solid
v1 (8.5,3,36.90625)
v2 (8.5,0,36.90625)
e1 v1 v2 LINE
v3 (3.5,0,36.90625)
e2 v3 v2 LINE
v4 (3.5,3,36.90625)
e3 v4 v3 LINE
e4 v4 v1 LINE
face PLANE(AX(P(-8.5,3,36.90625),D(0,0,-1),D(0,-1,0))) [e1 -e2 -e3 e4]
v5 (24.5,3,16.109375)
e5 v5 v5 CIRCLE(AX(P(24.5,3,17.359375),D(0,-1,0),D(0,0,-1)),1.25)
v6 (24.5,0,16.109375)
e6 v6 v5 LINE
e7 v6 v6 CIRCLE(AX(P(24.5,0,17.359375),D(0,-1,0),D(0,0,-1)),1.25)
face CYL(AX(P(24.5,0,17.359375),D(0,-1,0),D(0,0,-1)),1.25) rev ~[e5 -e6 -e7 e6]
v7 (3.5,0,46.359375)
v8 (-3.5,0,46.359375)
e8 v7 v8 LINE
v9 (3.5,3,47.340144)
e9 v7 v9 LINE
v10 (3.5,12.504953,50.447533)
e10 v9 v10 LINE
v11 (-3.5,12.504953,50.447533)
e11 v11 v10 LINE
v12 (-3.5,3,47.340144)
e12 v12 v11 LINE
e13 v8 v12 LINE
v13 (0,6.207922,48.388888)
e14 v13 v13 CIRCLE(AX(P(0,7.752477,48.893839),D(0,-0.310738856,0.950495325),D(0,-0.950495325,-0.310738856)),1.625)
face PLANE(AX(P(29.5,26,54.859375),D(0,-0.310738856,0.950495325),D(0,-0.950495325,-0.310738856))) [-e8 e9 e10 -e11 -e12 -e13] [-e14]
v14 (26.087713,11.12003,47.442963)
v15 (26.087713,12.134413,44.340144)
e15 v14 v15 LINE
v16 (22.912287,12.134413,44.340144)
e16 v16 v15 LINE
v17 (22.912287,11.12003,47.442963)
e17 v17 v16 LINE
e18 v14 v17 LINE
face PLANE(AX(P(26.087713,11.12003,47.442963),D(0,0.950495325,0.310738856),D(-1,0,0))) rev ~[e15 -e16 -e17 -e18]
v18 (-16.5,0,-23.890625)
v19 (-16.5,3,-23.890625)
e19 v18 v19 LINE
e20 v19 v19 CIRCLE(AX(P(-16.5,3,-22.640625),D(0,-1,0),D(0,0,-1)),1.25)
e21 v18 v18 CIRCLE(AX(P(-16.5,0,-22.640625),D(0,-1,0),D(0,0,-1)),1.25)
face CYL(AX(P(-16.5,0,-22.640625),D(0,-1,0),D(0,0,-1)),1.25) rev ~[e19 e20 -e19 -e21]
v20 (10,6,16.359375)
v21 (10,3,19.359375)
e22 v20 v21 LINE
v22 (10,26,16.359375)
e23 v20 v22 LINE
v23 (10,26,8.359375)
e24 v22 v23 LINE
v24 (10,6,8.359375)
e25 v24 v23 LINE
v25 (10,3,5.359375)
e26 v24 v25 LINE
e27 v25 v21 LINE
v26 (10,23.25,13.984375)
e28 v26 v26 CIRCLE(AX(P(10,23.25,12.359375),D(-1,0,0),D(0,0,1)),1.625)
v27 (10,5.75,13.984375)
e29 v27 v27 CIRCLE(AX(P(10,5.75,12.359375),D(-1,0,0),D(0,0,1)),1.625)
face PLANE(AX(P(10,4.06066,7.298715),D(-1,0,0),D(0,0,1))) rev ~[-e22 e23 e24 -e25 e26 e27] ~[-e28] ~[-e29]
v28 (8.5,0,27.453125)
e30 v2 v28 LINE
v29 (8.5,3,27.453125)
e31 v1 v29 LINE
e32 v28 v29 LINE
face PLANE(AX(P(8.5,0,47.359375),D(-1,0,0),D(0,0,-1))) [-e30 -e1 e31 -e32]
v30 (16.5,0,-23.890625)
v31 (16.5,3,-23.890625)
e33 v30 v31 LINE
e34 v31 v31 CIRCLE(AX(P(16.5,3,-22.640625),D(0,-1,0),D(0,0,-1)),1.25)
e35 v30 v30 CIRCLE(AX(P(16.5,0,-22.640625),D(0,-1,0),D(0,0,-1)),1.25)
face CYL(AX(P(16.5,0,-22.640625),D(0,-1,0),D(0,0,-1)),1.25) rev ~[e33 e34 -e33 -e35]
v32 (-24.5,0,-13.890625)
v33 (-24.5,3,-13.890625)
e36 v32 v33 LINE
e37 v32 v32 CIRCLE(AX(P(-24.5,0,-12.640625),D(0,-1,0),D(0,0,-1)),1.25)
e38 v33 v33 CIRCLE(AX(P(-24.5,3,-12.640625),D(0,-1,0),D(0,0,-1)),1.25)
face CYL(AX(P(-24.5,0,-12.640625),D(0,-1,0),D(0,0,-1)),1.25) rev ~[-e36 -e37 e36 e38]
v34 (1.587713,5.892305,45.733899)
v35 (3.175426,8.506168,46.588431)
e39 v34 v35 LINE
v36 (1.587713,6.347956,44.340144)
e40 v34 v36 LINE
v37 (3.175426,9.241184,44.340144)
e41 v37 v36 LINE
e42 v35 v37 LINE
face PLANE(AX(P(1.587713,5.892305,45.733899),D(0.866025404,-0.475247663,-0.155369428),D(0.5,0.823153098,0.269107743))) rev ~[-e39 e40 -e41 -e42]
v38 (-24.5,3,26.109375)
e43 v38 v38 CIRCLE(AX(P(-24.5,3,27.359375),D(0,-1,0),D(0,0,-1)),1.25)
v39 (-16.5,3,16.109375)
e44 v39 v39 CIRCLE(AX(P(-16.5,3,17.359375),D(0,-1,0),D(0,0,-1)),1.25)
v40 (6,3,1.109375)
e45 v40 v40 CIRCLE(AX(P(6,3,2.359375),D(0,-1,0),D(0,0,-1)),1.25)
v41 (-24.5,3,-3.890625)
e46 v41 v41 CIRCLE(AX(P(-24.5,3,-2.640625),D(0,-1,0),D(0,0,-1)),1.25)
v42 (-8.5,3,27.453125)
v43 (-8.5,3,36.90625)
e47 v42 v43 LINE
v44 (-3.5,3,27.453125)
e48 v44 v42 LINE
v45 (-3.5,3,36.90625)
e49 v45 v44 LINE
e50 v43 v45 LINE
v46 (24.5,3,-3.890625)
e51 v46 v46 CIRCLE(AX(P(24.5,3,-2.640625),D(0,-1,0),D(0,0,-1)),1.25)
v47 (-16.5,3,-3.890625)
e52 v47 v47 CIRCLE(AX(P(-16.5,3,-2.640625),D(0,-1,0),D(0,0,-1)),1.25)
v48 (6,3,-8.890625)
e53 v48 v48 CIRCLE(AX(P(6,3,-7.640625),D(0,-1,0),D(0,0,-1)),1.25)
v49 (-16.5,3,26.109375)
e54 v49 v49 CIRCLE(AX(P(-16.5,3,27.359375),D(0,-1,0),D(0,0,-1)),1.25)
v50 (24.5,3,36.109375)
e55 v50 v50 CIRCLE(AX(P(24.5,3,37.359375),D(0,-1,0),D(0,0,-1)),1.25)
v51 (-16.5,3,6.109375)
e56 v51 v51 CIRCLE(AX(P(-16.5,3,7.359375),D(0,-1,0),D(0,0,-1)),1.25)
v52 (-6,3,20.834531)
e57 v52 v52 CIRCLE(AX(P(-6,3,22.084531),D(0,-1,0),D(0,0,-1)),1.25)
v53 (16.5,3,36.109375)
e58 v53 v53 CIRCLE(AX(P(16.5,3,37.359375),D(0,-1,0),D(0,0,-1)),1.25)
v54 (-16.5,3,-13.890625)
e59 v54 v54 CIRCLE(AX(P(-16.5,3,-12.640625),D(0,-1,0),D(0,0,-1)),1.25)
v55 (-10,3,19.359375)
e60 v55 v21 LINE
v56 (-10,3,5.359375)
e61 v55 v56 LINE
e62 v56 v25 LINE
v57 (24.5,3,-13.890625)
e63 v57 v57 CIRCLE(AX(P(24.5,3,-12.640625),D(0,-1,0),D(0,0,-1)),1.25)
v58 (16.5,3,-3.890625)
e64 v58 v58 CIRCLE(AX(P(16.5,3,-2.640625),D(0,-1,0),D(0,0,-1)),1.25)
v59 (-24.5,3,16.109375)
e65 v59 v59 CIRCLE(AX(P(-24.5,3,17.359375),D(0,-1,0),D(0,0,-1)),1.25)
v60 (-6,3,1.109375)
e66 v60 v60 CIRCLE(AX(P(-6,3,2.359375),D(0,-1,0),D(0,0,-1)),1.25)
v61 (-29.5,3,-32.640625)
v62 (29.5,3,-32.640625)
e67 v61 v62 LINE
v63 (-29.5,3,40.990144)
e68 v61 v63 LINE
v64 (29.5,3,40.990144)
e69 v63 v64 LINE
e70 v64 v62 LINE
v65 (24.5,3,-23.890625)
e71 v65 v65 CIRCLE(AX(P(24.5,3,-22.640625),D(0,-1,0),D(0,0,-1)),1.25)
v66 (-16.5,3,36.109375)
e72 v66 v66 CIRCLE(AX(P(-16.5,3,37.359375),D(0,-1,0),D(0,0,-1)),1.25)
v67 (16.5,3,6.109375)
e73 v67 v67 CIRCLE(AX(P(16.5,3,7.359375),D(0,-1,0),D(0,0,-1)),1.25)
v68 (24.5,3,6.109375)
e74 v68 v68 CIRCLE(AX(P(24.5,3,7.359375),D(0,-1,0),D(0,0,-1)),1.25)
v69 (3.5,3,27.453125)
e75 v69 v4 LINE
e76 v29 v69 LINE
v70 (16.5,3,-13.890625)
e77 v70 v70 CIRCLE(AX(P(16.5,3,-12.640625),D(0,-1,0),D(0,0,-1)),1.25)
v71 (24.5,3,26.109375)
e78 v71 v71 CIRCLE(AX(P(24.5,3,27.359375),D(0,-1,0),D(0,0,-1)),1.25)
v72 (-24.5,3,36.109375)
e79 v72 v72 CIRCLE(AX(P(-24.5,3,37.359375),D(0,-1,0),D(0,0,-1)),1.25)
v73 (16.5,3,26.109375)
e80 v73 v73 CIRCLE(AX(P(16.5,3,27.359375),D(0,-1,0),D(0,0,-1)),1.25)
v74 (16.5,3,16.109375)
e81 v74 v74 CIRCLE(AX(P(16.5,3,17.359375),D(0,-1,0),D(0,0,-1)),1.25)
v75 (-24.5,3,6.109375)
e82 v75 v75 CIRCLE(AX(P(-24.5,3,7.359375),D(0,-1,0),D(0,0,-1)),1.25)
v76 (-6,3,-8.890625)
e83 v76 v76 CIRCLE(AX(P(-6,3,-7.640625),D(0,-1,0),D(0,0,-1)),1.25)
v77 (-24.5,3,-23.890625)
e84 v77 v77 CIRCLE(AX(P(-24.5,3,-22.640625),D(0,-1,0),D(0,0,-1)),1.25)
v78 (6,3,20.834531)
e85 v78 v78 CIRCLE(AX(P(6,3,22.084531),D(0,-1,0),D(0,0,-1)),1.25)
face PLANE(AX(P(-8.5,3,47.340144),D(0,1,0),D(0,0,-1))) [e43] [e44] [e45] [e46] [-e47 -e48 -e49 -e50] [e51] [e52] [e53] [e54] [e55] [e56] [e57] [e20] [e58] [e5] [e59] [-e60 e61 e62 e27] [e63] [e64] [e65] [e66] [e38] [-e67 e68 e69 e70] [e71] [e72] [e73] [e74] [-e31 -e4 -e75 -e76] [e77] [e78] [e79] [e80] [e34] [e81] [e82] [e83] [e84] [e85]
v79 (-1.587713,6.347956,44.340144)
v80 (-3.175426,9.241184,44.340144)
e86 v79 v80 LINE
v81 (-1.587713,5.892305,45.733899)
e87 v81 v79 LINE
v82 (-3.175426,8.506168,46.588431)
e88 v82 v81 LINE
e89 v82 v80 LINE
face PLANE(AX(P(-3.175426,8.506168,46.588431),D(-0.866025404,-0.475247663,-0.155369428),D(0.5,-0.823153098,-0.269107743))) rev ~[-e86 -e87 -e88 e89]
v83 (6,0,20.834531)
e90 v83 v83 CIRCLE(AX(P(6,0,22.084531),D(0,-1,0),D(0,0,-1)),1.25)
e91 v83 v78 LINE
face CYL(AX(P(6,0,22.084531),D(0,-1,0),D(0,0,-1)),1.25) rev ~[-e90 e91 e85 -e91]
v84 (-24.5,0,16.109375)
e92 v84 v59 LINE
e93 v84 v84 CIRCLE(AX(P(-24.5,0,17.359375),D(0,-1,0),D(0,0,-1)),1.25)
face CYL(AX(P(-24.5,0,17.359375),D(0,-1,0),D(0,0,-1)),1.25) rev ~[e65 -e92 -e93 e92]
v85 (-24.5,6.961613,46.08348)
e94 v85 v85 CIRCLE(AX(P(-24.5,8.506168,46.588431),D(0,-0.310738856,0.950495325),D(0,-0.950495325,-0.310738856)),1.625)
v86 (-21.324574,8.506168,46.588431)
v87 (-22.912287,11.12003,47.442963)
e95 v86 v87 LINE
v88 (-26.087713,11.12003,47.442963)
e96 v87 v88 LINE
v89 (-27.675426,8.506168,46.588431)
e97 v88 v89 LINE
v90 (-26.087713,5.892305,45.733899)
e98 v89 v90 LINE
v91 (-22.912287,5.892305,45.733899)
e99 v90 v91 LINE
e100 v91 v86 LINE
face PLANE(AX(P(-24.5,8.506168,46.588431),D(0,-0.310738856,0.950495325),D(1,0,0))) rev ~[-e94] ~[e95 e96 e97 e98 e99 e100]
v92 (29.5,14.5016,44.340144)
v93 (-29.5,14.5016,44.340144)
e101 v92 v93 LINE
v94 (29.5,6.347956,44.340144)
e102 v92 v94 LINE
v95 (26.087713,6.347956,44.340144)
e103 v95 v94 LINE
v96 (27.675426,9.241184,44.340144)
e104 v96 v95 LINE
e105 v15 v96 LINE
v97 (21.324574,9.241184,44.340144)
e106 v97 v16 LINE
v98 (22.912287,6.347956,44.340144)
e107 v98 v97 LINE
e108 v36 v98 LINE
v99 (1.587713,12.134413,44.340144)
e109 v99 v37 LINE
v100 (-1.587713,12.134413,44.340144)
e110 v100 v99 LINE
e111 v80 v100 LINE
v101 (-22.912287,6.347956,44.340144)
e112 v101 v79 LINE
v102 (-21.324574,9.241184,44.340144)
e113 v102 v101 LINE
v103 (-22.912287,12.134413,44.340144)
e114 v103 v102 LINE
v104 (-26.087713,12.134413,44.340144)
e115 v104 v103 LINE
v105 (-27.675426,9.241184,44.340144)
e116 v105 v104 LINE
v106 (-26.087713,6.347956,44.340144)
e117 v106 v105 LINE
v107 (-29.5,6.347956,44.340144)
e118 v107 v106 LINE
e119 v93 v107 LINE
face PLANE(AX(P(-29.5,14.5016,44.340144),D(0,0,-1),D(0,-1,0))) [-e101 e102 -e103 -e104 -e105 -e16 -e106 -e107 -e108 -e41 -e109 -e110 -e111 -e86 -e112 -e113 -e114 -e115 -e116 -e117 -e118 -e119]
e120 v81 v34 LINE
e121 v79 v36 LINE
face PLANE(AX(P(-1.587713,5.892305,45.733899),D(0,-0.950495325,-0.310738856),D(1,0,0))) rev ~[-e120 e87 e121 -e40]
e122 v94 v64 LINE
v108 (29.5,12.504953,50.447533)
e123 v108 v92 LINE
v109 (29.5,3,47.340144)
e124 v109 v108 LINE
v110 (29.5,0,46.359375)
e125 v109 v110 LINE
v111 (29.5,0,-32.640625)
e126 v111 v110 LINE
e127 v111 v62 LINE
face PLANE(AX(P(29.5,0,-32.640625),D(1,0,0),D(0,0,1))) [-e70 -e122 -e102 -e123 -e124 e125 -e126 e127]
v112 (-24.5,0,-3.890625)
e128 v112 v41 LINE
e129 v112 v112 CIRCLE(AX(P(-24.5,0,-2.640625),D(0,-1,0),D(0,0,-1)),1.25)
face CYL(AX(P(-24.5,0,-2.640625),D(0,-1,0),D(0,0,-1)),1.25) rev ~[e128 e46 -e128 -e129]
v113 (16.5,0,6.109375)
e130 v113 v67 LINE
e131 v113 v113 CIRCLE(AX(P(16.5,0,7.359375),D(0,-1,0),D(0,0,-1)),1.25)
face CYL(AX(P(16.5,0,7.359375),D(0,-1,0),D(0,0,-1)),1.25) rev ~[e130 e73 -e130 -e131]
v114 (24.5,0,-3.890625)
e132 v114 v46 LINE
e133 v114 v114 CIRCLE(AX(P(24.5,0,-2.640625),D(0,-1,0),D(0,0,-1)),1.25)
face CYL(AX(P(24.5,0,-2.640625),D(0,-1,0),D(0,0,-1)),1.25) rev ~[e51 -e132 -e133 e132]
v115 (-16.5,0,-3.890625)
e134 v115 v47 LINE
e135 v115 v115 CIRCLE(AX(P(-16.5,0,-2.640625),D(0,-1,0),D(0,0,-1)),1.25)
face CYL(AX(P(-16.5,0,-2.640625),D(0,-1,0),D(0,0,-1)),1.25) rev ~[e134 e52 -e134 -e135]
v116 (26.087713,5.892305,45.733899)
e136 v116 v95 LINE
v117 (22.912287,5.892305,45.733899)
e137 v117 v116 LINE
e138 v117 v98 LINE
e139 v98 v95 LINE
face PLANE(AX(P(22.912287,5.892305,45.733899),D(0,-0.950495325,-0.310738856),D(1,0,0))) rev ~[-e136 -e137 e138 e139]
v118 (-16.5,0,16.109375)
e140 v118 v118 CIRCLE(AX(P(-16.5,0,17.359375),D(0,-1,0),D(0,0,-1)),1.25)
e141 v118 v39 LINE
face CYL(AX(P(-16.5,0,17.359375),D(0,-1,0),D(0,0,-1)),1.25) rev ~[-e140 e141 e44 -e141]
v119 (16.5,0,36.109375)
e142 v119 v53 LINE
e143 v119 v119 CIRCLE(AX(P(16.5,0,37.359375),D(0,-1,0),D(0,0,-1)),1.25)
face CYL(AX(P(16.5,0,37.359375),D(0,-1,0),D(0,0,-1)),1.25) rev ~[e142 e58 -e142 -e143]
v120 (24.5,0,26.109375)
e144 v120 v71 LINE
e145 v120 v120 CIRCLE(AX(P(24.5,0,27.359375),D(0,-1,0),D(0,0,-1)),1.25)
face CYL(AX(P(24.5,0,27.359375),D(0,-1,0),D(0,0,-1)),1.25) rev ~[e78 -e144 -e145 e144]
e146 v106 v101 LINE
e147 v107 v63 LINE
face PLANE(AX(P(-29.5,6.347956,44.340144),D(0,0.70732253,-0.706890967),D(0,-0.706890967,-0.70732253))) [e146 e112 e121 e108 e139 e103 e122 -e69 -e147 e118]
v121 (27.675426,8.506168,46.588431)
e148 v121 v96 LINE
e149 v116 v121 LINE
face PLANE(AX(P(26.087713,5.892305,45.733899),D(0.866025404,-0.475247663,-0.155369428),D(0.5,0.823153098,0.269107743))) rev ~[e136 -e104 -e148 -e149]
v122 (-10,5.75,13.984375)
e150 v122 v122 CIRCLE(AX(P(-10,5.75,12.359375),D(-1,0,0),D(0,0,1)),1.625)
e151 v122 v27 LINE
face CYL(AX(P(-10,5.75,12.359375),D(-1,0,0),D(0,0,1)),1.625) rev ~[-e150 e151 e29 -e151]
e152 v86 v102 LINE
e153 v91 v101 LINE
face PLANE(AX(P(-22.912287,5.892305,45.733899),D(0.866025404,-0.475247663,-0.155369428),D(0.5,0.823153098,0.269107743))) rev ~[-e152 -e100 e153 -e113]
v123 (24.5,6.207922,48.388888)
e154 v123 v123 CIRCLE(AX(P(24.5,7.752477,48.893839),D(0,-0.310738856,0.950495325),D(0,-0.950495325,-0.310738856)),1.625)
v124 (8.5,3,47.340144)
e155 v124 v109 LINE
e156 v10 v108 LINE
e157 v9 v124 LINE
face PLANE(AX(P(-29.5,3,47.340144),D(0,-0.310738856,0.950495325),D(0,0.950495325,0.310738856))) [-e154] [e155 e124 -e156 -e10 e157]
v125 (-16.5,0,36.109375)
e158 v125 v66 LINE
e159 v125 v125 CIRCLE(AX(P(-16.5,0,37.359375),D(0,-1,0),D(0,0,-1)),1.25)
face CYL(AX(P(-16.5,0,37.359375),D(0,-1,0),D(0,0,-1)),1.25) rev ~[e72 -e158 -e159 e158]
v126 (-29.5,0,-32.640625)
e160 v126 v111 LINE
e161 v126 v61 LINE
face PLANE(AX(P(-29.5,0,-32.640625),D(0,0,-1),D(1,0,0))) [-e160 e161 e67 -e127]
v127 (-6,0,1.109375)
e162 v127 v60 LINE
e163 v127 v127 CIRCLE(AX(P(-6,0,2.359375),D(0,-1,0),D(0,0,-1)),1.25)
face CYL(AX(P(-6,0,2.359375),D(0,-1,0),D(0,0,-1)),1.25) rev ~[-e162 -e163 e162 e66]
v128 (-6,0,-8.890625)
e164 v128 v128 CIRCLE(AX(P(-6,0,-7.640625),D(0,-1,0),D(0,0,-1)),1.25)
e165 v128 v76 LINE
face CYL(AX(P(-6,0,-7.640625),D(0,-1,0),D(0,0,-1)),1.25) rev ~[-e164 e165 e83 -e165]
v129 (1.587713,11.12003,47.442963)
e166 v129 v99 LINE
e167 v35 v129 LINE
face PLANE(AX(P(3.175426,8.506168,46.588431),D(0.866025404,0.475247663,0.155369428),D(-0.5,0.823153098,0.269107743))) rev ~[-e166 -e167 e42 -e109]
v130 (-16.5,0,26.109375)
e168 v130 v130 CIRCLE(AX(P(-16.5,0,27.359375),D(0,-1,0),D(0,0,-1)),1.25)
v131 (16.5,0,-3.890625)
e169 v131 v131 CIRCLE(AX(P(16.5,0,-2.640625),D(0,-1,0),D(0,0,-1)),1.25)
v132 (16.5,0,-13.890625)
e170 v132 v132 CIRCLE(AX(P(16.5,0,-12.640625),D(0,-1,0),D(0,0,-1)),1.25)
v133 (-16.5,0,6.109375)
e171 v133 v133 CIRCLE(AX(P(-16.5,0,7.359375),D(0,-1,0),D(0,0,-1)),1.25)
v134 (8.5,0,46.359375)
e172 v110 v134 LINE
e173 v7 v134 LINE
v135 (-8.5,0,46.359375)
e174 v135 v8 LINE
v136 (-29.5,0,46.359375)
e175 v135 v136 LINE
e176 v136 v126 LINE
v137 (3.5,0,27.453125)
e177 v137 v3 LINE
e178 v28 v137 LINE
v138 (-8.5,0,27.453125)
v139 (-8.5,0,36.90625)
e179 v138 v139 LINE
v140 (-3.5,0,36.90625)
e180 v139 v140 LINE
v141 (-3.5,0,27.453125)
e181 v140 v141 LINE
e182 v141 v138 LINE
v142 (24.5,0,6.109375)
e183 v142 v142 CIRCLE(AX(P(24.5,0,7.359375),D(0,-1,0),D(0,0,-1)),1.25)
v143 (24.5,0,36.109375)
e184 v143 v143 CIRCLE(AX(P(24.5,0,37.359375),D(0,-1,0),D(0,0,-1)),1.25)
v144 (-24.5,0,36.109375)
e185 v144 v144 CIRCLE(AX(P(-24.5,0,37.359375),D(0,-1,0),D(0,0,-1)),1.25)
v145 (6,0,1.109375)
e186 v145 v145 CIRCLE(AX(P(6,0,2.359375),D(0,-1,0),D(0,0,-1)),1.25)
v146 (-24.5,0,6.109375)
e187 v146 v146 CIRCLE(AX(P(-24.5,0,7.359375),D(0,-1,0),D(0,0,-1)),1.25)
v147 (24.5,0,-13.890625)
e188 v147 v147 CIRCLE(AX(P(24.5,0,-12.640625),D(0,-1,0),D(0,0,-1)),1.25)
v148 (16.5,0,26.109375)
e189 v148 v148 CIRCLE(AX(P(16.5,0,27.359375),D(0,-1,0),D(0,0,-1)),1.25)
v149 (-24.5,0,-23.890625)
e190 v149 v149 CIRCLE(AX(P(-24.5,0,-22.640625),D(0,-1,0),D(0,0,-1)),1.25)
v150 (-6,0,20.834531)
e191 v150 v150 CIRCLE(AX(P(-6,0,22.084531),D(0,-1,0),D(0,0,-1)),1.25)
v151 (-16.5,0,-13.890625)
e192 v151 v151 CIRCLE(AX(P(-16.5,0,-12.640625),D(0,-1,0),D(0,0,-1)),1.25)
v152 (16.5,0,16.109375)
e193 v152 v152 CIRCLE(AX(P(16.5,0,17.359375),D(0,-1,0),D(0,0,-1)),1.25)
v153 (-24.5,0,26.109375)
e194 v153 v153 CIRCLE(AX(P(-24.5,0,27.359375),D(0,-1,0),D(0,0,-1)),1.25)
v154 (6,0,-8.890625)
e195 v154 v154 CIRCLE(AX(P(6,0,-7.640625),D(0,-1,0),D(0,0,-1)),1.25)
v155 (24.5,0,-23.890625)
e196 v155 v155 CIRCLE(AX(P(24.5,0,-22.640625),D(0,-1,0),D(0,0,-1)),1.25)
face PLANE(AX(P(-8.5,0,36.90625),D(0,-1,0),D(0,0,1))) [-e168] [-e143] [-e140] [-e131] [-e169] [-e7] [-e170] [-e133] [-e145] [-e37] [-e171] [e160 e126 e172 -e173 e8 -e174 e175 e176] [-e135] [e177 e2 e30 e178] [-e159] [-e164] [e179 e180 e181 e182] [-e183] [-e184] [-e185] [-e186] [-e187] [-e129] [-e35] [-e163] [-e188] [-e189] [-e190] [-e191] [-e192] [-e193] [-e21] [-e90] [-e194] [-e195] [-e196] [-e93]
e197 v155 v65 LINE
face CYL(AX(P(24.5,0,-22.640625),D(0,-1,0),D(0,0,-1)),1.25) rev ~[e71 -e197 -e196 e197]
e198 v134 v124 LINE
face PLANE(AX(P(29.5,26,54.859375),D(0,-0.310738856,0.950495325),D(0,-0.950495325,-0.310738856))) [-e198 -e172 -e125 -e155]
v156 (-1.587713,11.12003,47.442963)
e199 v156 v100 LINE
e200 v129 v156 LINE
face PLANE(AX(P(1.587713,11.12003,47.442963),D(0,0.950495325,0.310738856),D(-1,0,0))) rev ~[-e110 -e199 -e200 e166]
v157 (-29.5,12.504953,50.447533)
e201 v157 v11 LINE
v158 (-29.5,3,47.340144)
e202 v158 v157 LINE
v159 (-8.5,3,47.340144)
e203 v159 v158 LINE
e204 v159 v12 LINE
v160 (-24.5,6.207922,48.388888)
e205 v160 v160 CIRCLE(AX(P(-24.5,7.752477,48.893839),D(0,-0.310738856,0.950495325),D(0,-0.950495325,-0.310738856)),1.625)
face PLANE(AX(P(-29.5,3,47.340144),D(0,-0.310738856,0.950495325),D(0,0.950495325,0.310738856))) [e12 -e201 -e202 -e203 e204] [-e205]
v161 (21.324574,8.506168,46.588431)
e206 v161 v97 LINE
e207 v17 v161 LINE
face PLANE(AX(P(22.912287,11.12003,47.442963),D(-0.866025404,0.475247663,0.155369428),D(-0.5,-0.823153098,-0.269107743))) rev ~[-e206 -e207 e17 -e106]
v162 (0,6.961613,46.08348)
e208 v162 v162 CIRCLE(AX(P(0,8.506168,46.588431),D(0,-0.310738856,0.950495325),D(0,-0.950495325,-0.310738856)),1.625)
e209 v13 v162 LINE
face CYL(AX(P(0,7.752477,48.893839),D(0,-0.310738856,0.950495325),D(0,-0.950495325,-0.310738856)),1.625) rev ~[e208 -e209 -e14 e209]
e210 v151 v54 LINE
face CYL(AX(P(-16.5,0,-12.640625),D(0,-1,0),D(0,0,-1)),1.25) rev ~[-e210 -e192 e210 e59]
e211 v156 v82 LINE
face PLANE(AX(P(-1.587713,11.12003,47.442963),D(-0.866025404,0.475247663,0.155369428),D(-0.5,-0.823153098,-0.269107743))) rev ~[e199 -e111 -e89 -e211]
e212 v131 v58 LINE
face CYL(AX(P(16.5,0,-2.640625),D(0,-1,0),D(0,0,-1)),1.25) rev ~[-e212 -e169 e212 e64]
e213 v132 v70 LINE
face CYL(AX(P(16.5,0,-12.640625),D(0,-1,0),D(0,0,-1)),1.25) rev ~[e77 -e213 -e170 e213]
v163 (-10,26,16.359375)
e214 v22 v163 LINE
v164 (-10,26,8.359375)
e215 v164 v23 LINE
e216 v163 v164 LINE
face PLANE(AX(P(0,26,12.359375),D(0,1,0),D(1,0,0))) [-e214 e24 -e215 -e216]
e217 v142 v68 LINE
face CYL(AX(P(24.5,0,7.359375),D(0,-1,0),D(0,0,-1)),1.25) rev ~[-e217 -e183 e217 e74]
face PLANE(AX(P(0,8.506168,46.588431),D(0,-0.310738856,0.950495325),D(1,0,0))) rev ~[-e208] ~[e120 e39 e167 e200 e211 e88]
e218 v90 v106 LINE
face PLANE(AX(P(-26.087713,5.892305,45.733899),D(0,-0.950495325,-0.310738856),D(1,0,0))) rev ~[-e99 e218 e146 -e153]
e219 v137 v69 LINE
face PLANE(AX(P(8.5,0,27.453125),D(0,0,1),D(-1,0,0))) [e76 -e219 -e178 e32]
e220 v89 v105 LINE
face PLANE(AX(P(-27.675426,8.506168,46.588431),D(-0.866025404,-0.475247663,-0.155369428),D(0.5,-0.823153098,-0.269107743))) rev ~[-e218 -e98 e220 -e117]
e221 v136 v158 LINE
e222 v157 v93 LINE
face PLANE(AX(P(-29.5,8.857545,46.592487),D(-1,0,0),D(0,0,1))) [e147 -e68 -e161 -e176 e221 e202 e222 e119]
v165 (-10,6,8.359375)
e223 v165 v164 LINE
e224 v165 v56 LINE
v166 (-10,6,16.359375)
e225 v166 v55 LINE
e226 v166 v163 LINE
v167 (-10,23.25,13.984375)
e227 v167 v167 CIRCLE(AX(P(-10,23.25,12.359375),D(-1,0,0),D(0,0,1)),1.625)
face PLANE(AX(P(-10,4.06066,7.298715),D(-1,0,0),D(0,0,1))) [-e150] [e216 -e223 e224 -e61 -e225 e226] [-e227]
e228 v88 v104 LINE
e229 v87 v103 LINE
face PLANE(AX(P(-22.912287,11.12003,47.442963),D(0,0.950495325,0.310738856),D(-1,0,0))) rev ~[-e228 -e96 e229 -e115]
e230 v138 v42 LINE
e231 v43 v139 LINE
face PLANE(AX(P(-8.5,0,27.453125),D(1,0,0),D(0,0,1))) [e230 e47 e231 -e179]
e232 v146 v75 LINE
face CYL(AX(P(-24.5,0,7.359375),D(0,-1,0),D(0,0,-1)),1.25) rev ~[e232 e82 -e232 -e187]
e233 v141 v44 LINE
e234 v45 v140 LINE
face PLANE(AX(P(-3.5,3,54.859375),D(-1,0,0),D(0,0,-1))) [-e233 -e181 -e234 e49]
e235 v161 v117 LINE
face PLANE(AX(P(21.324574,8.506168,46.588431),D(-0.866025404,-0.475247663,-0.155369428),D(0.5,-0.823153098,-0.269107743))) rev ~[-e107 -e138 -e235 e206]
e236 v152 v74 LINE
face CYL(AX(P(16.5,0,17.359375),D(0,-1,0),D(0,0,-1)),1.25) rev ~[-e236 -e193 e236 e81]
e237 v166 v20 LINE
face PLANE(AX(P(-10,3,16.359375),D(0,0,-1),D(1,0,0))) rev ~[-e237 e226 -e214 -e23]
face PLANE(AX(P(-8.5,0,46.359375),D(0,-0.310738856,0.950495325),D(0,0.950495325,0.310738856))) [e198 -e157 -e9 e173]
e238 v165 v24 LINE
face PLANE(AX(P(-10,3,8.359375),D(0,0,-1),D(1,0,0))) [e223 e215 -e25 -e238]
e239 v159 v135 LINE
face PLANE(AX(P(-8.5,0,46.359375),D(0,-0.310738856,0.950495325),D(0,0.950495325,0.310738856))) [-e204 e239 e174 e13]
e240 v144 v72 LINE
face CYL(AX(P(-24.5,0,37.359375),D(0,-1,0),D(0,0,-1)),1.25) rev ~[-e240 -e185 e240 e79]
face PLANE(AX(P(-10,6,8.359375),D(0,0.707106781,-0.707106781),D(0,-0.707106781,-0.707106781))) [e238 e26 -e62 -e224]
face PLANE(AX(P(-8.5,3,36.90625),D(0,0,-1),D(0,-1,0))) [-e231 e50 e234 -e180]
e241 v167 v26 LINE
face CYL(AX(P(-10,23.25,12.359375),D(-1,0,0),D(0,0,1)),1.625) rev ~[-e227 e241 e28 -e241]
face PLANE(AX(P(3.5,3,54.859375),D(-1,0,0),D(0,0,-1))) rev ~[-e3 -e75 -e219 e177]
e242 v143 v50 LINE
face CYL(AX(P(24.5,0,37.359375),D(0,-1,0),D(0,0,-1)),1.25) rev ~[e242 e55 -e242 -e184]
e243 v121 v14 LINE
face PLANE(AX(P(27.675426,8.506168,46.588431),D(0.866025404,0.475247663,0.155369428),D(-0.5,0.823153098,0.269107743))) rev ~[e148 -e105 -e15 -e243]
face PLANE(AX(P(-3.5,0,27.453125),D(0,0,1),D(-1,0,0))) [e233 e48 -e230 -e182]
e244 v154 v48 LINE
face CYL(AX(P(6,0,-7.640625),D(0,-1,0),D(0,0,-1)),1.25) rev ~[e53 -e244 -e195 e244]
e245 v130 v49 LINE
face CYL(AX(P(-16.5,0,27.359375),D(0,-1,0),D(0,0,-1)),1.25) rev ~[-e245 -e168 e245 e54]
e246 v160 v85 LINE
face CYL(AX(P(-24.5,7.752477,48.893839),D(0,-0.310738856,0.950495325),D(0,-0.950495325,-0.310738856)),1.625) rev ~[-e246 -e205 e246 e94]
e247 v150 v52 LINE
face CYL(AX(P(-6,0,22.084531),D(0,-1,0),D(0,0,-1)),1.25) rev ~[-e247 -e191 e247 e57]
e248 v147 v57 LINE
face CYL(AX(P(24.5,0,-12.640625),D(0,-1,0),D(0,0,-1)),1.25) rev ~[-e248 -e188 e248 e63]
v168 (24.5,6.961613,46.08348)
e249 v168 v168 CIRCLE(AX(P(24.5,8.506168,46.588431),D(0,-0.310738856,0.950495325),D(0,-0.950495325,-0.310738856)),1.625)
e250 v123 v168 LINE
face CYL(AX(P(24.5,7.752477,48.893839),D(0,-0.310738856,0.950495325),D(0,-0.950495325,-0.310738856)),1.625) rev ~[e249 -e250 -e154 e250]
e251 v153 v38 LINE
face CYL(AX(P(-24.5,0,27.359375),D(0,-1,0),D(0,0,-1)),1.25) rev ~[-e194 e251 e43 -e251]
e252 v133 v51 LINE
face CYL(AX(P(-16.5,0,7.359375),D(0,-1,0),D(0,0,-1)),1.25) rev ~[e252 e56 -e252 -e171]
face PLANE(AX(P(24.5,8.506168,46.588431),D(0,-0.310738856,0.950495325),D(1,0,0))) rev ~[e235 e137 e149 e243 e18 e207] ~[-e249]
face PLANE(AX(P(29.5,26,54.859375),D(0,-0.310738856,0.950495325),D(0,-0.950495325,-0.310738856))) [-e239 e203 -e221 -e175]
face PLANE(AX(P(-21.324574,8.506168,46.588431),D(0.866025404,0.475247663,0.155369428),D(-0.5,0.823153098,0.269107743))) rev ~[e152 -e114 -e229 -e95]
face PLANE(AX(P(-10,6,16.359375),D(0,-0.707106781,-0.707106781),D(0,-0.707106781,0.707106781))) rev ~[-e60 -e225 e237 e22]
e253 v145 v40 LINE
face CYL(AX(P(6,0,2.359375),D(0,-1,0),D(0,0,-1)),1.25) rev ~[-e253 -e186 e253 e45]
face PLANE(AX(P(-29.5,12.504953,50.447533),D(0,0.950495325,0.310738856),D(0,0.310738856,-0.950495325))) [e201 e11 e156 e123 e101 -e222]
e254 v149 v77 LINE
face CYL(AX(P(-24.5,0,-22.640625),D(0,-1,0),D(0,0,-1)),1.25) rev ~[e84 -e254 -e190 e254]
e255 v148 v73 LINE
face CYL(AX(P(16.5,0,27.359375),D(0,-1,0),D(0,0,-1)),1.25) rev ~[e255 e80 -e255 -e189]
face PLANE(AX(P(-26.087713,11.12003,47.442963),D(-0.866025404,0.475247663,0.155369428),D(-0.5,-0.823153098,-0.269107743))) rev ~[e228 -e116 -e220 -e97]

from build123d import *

# Parameters (mm, degrees)
SALIENTE_EXTRUIR1_DEPTH = 3
SKETCH1_W               = 20
SKETCH1_H               = 7
SKETCH1_H_2             = 8
SKETCH1_W_2             = 7
SKETCH1_H_3             = 38.5
BOSS_EXTRUDE1_DEPTH     = 23
CUT_EXTRUDE1_DEPTH      = 85.65548432
SKETCH3_R               = 1.625
CUT_EXTRUDE2_DEPTH      = 73.427902257
CORTAR_EXTRUIR1_DEPTH   = 10
CORTAR_EXTRUIR2_REACH   = 71.098
CROQUIS4_R              = 1.25
CORTAR_EXTRUIR3_DEPTH   = 3
BOSS_EXTRUDE2_DEPTH     = 20
SALIENTE_EXTRUIR2_DEPTH = 59
CORTAR_EXTRUIR4_REACH   = 91.44
CROQUIS7_R              = 1.625
CORTAR_EXTRUIR5_START   = -2.42548
CORTAR_EXTRUIR5_DEPTH   = 4
SALIENTE_EXTRUIR4_START = -20
SALIENTE_EXTRUIR4_DEPTH = 20
CROQUIS17_W             = 7
CROQUIS17_H             = 23
CORTAR_EXTRUIR11_DEPTH  = 73.427902257
CUT_EXTRUDE3_DEPTH      = 85.65548432
LOCAL_FILES2_R          = 1.625
CUT_EXTRUDE4_DEPTH      = 10
CUT_EXTRUDE5_START      = -2.42548
CUT_EXTRUDE5_DEPTH      = 4


with BuildPart() as part:
    # Croquis1 → Saliente-Extruir1 (new body)
    with BuildSketch(Plane(origin=(0, 0, 0), x_dir=(1, 0, 0), z_dir=(0, 1, 0))):
        Polygon((-29.5, 32.640625), (29.5, 32.640625), (29.5, -47.359375), (8.5, -47.359375), (8.5, -27.453125), (3.5, -27.453125), (3.5, -47.359375), (-3.5, -47.359375), (-3.5, -27.453125), (-8.5, -27.453125), (-8.5, -47.359375), (-29.5, -47.359375), align=None)
    extrude(amount=SALIENTE_EXTRUIR1_DEPTH)

    # Sketch1 → Boss-Extrude1 (add)
    with BuildSketch(Plane(origin=(0, 3, 0), x_dir=(1, 0, 0), z_dir=(0, 1, 0))):
        with Locations((0, 19.640625)):
            Rectangle(SKETCH1_W, SKETCH1_H)
        with Locations((0, -12.359375)):
            Rectangle(SKETCH1_W, SKETCH1_H_2)
        with Locations((0, -35.609375)):
            Rectangle(SKETCH1_W_2, SKETCH1_H_3)
    extrude(amount=BOSS_EXTRUDE1_DEPTH)

    # Sketch2 → Cut-Extrude1 (cut, through all)
    with BuildSketch(Plane(origin=(29.5, 0, 0), x_dir=(0, 0, -1), z_dir=(1, 0, 0))):
        Polygon((-54.859375, 26), (-46.359375, 0), (-47.359375, 0), (-47.359375, 3), (-54.859375, 3), align=None)
    extrude(amount=-CUT_EXTRUDE1_DEPTH, mode=Mode.SUBTRACT)

    # Sketch3 → Cut-Extrude2 (cut, through all)
    with BuildSketch(Plane.ZY.offset(10)):
        with Locations((12.359375, 5.75)):
            Circle(SKETCH3_R)
        with Locations((12.359375, 23.25)):
            Circle(SKETCH3_R)
    extrude(amount=-CUT_EXTRUDE2_DEPTH, mode=Mode.SUBTRACT)

    # Croquis2 → Cortar-Extruir1 (cut)
    with BuildSketch(Plane(origin=(0, 0, -23.140625), x_dir=(-1, 0, 0), z_dir=(0, 0, -1))):
        Polygon((-5, 6), (-5, 3), (5, 3), (5, 6), (5, 21), (-5, 21), align=None)
    extrude(amount=-CORTAR_EXTRUIR1_DEPTH, mode=Mode.SUBTRACT)

    # Croquis3 → Cortar-Extruir2 (cut, up to next)
    with BuildSketch(Plane.ZY.offset(3.5), mode=Mode.PRIVATE) as cortar_extruir2_sk1:
        Polygon((21.90625, 3), (36.90625, 3), (36.90625, 26), (21.90625, 26), (16.359375, 26), (16.359375, 3), align=None)
    cortar_extruir2_tool1 = extrude(cortar_extruir2_sk1.sketch, amount=-CORTAR_EXTRUIR2_REACH, mode=Mode.PRIVATE) & part.part
    add(cortar_extruir2_tool1.solids().sort_by_distance((-3.5, 14.5, 26.632812))[0], mode=Mode.SUBTRACT)

    # Croquis4 → Cortar-Extruir3 (cut)
    with BuildSketch(Plane.XZ):
        with Locations(Location((-24.5, -22.640625, 0), (0, 0, 270))):
            Circle(CROQUIS4_R)
        with Locations(Location((-16.5, -22.640625, 0), (0, 0, 270))):
            Circle(CROQUIS4_R)
        with Locations(Location((-16.5, -12.640625, 0), (0, 0, 270))):
            Circle(CROQUIS4_R)
        with Locations(Location((-16.5, -2.640625, 0), (0, 0, 270))):
            Circle(CROQUIS4_R)
        with Locations(Location((-16.5, 7.359375, 0), (0, 0, 270))):
            Circle(CROQUIS4_R)
        with Locations(Location((-16.5, 17.359375, 0), (0, 0, 270))):
            Circle(CROQUIS4_R)
        with Locations(Location((-16.5, 27.359375, 0), (0, 0, 270))):
            Circle(CROQUIS4_R)
        with Locations(Location((-16.5, 37.359375, 0), (0, 0, 270))):
            Circle(CROQUIS4_R)
        with Locations(Location((-24.5, -12.640625, 0), (0, 0, 270))):
            Circle(CROQUIS4_R)
        with Locations(Location((-24.5, -2.640625, 0), (0, 0, 270))):
            Circle(CROQUIS4_R)
        with Locations(Location((-24.5, 7.359375, 0), (0, 0, 270))):
            Circle(CROQUIS4_R)
        with Locations(Location((-24.5, 17.359375, 0), (0, 0, 270))):
            Circle(CROQUIS4_R)
        with Locations(Location((-24.5, 27.359375, 0), (0, 0, 270))):
            Circle(CROQUIS4_R)
        with Locations(Location((-24.5, 37.359375, 0), (0, 0, 270))):
            Circle(CROQUIS4_R)
        with Locations(Location((16.5, 37.359375, 0), (0, 0, 270))):
            Circle(CROQUIS4_R)
        with Locations(Location((24.5, 37.359375, 0), (0, 0, 270))):
            Circle(CROQUIS4_R)
        with Locations(Location((16.5, 27.359375, 0), (0, 0, 270))):
            Circle(CROQUIS4_R)
        with Locations(Location((24.5, 27.359375, 0), (0, 0, 270))):
            Circle(CROQUIS4_R)
        with Locations(Location((16.5, 17.359375, 0), (0, 0, 270))):
            Circle(CROQUIS4_R)
        with Locations(Location((24.5, 17.359375, 0), (0, 0, 270))):
            Circle(CROQUIS4_R)
        with Locations(Location((24.5, 7.359375, 0), (0, 0, 270))):
            Circle(CROQUIS4_R)
        with Locations(Location((16.5, 7.359375, 0), (0, 0, 270))):
            Circle(CROQUIS4_R)
        with Locations(Location((16.5, -2.640625, 0), (0, 0, 270))):
            Circle(CROQUIS4_R)
        with Locations(Location((24.5, -2.640625, 0), (0, 0, 270))):
            Circle(CROQUIS4_R)
        with Locations(Location((24.5, -12.640625, 0), (0, 0, 270))):
            Circle(CROQUIS4_R)
        with Locations(Location((16.5, -12.640625, 0), (0, 0, 270))):
            Circle(CROQUIS4_R)
        with Locations(Location((16.5, -22.640625, 0), (0, 0, 270))):
            Circle(CROQUIS4_R)
        with Locations(Location((24.5, -22.640625, 0), (0, 0, 270))):
            Circle(CROQUIS4_R)
        with Locations(Location((6, 22.084531493, 0), (0, 0, 270))):
            Circle(CROQUIS4_R)
        with Locations(Location((-6, 22.084531493, 0), (0, 0, 270))):
            Circle(CROQUIS4_R)
        with Locations(Location((6, 2.359375, 0), (0, 0, 270))):
            Circle(CROQUIS4_R)
        with Locations(Location((-6, 2.359375, 0), (0, 0, 270))):
            Circle(CROQUIS4_R)
        with Locations(Location((-6, -7.640625, 0), (0, 0, 270))):
            Circle(CROQUIS4_R)
        with Locations(Location((6, -7.640625, 0), (0, 0, 270))):
            Circle(CROQUIS4_R)
    extrude(amount=-CORTAR_EXTRUIR3_DEPTH, mode=Mode.SUBTRACT)

    # Sketch5 → Boss-Extrude2 (add)
    with BuildSketch(Plane(origin=(-8.5, 0, 0), x_dir=(0, 0, -1), z_dir=(1, 0, 0))):
        Polygon((-36.90625, 3), (-36.90625, 0), (-46.359375, 0), (-47.340144231, 3), align=None)
    extrude(amount=BOSS_EXTRUDE2_DEPTH)

    # Croquis6 → Saliente-Extruir2 (add)
    with BuildSketch(Plane.ZY.offset(29.5)):
        Polygon((44.340144231, 3), (47.340144231, 3), (50.447532794, 12.504953252), (44.340144231, 14.501599513), (44.340144231, 6.347956044), align=None)
        Polygon((40.990144231, 3), (44.340144231, 3), (44.340144231, 6.347956044), align=None)
    extrude(amount=-SALIENTE_EXTRUIR2_DEPTH)

    # Cortar-Extruir4: up to this plane
    cortar_extruir4_end = Plane(origin=(29.5, 0, 44.340144231), z_dir=(0, 0, -1))
    # Croquis7 → Cortar-Extruir4 (cut, up to the surface)
    with BuildSketch(Plane(origin=(0, -13.692511694, 41.882976946), x_dir=(1, 0, 0), z_dir=(0, -0.31073885630742226, 0.9504953251756452)), mode=Mode.PRIVATE) as cortar_extruir4_sk1:
        with Locations(Location((-24.5, 22.561908251, 0), (0, 0, 270))):
            Circle(CROQUIS7_R)
    cortar_extruir4_tool1 = split(extrude(cortar_extruir4_sk1.sketch, amount=-CORTAR_EXTRUIR4_REACH, mode=Mode.PRIVATE), bisect_by=cortar_extruir4_end, keep=Keep.BOTH, mode=Mode.PRIVATE)
    add(cortar_extruir4_tool1.solids().sort_by_distance((-24.5, 7.752477, 48.893839))[0], mode=Mode.SUBTRACT)

    # Croquis8 → Cortar-Extruir5 (cut)
    with BuildSketch(Plane(origin=(0, -13.692511694, 41.882976946), x_dir=(1, 0, 0), z_dir=(0, -0.31073885630742226, 0.9504953251756452)).offset(CORTAR_EXTRUIR5_START)):
        Polygon((-22.91228676, 19.811908251), (-21.324573519, 22.561908251), (-22.91228676, 25.311908251), (-26.08771324, 25.311908251), (-27.675426481, 22.561908251), (-26.08771324, 19.811908251), align=None)
    extrude(amount=-CORTAR_EXTRUIR5_DEPTH, mode=Mode.SUBTRACT)

    # Croquis16 → Saliente-Extruir4 (add)
    with BuildSketch(Plane(origin=(10, 0, 0), x_dir=(0, 0, -1), z_dir=(1, 0, 0)).offset(SALIENTE_EXTRUIR4_START)):
        Polygon((-8.359375, 6), (-5.359375, 3), (-8.359375, 3), align=None)
        Polygon((-19.359375, 3), (-16.359375, 3), (-16.359375, 6), align=None)
    extrude(amount=SALIENTE_EXTRUIR4_DEPTH)

    # Croquis17 → Cortar-Extruir11 (cut, through all)
    with BuildSketch(Plane.ZY.offset(10)):
        with Locations((-19.640625, 14.5)):
            Rectangle(CROQUIS17_W, CROQUIS17_H)
    extrude(amount=-CORTAR_EXTRUIR11_DEPTH, mode=Mode.SUBTRACT)

    # Local Files1 → Cut-Extrude3 (cut, through all)
    with BuildSketch(Plane.ZY.offset(29.5)):
        Polygon((36.90625, 3), (40.990144231, 3), (44.340144231, 6.347956044), (44.340144231, 14.501599513), (50.447532794, 12.504953252), (54.859375, 26), (36.90625, 26), align=None)
    extrude(amount=-CUT_EXTRUDE3_DEPTH, mode=Mode.SUBTRACT)

    # Local Files2 → Cut-Extrude4 (cut)
    with BuildSketch(Plane(origin=(0, -13.692511694, 41.882976946), x_dir=(1, 0, 0), z_dir=(0, -0.31073885630742226, 0.9504953251756452))):
        with Locations(Location((0, 22.561908251, 0), (0, 0, 270))):
            Circle(LOCAL_FILES2_R)
        with Locations(Location((-24.5, 22.561908251, 0), (0, 0, 270))):
            Circle(LOCAL_FILES2_R)
        with Locations(Location((24.5, 22.561908251, 0), (0, 0, 270))):
            Circle(LOCAL_FILES2_R)
    extrude(amount=-CUT_EXTRUDE4_DEPTH, mode=Mode.SUBTRACT)

    # Local Files4 → Cut-Extrude5 (cut)
    with BuildSketch(Plane(origin=(0, -13.692511694, 41.882976946), x_dir=(1, 0, 0), z_dir=(0, -0.31073885630742226, 0.9504953251756452)).offset(CUT_EXTRUDE5_START)):
        Polygon((1.58771324, 19.811908251), (3.175426481, 22.561908251), (1.58771324, 25.311908251), (-1.58771324, 25.311908251), (-3.175426481, 22.561908251), (-1.58771324, 19.811908251), align=None)
        Polygon((26.08771324, 19.811908251), (27.675426481, 22.561908251), (26.08771324, 25.311908251), (22.91228676, 25.311908251), (21.324573519, 22.561908251), (22.91228676, 19.811908251), align=None)
    extrude(amount=-CUT_EXTRUDE5_DEPTH, mode=Mode.SUBTRACT)


solid = part.part
